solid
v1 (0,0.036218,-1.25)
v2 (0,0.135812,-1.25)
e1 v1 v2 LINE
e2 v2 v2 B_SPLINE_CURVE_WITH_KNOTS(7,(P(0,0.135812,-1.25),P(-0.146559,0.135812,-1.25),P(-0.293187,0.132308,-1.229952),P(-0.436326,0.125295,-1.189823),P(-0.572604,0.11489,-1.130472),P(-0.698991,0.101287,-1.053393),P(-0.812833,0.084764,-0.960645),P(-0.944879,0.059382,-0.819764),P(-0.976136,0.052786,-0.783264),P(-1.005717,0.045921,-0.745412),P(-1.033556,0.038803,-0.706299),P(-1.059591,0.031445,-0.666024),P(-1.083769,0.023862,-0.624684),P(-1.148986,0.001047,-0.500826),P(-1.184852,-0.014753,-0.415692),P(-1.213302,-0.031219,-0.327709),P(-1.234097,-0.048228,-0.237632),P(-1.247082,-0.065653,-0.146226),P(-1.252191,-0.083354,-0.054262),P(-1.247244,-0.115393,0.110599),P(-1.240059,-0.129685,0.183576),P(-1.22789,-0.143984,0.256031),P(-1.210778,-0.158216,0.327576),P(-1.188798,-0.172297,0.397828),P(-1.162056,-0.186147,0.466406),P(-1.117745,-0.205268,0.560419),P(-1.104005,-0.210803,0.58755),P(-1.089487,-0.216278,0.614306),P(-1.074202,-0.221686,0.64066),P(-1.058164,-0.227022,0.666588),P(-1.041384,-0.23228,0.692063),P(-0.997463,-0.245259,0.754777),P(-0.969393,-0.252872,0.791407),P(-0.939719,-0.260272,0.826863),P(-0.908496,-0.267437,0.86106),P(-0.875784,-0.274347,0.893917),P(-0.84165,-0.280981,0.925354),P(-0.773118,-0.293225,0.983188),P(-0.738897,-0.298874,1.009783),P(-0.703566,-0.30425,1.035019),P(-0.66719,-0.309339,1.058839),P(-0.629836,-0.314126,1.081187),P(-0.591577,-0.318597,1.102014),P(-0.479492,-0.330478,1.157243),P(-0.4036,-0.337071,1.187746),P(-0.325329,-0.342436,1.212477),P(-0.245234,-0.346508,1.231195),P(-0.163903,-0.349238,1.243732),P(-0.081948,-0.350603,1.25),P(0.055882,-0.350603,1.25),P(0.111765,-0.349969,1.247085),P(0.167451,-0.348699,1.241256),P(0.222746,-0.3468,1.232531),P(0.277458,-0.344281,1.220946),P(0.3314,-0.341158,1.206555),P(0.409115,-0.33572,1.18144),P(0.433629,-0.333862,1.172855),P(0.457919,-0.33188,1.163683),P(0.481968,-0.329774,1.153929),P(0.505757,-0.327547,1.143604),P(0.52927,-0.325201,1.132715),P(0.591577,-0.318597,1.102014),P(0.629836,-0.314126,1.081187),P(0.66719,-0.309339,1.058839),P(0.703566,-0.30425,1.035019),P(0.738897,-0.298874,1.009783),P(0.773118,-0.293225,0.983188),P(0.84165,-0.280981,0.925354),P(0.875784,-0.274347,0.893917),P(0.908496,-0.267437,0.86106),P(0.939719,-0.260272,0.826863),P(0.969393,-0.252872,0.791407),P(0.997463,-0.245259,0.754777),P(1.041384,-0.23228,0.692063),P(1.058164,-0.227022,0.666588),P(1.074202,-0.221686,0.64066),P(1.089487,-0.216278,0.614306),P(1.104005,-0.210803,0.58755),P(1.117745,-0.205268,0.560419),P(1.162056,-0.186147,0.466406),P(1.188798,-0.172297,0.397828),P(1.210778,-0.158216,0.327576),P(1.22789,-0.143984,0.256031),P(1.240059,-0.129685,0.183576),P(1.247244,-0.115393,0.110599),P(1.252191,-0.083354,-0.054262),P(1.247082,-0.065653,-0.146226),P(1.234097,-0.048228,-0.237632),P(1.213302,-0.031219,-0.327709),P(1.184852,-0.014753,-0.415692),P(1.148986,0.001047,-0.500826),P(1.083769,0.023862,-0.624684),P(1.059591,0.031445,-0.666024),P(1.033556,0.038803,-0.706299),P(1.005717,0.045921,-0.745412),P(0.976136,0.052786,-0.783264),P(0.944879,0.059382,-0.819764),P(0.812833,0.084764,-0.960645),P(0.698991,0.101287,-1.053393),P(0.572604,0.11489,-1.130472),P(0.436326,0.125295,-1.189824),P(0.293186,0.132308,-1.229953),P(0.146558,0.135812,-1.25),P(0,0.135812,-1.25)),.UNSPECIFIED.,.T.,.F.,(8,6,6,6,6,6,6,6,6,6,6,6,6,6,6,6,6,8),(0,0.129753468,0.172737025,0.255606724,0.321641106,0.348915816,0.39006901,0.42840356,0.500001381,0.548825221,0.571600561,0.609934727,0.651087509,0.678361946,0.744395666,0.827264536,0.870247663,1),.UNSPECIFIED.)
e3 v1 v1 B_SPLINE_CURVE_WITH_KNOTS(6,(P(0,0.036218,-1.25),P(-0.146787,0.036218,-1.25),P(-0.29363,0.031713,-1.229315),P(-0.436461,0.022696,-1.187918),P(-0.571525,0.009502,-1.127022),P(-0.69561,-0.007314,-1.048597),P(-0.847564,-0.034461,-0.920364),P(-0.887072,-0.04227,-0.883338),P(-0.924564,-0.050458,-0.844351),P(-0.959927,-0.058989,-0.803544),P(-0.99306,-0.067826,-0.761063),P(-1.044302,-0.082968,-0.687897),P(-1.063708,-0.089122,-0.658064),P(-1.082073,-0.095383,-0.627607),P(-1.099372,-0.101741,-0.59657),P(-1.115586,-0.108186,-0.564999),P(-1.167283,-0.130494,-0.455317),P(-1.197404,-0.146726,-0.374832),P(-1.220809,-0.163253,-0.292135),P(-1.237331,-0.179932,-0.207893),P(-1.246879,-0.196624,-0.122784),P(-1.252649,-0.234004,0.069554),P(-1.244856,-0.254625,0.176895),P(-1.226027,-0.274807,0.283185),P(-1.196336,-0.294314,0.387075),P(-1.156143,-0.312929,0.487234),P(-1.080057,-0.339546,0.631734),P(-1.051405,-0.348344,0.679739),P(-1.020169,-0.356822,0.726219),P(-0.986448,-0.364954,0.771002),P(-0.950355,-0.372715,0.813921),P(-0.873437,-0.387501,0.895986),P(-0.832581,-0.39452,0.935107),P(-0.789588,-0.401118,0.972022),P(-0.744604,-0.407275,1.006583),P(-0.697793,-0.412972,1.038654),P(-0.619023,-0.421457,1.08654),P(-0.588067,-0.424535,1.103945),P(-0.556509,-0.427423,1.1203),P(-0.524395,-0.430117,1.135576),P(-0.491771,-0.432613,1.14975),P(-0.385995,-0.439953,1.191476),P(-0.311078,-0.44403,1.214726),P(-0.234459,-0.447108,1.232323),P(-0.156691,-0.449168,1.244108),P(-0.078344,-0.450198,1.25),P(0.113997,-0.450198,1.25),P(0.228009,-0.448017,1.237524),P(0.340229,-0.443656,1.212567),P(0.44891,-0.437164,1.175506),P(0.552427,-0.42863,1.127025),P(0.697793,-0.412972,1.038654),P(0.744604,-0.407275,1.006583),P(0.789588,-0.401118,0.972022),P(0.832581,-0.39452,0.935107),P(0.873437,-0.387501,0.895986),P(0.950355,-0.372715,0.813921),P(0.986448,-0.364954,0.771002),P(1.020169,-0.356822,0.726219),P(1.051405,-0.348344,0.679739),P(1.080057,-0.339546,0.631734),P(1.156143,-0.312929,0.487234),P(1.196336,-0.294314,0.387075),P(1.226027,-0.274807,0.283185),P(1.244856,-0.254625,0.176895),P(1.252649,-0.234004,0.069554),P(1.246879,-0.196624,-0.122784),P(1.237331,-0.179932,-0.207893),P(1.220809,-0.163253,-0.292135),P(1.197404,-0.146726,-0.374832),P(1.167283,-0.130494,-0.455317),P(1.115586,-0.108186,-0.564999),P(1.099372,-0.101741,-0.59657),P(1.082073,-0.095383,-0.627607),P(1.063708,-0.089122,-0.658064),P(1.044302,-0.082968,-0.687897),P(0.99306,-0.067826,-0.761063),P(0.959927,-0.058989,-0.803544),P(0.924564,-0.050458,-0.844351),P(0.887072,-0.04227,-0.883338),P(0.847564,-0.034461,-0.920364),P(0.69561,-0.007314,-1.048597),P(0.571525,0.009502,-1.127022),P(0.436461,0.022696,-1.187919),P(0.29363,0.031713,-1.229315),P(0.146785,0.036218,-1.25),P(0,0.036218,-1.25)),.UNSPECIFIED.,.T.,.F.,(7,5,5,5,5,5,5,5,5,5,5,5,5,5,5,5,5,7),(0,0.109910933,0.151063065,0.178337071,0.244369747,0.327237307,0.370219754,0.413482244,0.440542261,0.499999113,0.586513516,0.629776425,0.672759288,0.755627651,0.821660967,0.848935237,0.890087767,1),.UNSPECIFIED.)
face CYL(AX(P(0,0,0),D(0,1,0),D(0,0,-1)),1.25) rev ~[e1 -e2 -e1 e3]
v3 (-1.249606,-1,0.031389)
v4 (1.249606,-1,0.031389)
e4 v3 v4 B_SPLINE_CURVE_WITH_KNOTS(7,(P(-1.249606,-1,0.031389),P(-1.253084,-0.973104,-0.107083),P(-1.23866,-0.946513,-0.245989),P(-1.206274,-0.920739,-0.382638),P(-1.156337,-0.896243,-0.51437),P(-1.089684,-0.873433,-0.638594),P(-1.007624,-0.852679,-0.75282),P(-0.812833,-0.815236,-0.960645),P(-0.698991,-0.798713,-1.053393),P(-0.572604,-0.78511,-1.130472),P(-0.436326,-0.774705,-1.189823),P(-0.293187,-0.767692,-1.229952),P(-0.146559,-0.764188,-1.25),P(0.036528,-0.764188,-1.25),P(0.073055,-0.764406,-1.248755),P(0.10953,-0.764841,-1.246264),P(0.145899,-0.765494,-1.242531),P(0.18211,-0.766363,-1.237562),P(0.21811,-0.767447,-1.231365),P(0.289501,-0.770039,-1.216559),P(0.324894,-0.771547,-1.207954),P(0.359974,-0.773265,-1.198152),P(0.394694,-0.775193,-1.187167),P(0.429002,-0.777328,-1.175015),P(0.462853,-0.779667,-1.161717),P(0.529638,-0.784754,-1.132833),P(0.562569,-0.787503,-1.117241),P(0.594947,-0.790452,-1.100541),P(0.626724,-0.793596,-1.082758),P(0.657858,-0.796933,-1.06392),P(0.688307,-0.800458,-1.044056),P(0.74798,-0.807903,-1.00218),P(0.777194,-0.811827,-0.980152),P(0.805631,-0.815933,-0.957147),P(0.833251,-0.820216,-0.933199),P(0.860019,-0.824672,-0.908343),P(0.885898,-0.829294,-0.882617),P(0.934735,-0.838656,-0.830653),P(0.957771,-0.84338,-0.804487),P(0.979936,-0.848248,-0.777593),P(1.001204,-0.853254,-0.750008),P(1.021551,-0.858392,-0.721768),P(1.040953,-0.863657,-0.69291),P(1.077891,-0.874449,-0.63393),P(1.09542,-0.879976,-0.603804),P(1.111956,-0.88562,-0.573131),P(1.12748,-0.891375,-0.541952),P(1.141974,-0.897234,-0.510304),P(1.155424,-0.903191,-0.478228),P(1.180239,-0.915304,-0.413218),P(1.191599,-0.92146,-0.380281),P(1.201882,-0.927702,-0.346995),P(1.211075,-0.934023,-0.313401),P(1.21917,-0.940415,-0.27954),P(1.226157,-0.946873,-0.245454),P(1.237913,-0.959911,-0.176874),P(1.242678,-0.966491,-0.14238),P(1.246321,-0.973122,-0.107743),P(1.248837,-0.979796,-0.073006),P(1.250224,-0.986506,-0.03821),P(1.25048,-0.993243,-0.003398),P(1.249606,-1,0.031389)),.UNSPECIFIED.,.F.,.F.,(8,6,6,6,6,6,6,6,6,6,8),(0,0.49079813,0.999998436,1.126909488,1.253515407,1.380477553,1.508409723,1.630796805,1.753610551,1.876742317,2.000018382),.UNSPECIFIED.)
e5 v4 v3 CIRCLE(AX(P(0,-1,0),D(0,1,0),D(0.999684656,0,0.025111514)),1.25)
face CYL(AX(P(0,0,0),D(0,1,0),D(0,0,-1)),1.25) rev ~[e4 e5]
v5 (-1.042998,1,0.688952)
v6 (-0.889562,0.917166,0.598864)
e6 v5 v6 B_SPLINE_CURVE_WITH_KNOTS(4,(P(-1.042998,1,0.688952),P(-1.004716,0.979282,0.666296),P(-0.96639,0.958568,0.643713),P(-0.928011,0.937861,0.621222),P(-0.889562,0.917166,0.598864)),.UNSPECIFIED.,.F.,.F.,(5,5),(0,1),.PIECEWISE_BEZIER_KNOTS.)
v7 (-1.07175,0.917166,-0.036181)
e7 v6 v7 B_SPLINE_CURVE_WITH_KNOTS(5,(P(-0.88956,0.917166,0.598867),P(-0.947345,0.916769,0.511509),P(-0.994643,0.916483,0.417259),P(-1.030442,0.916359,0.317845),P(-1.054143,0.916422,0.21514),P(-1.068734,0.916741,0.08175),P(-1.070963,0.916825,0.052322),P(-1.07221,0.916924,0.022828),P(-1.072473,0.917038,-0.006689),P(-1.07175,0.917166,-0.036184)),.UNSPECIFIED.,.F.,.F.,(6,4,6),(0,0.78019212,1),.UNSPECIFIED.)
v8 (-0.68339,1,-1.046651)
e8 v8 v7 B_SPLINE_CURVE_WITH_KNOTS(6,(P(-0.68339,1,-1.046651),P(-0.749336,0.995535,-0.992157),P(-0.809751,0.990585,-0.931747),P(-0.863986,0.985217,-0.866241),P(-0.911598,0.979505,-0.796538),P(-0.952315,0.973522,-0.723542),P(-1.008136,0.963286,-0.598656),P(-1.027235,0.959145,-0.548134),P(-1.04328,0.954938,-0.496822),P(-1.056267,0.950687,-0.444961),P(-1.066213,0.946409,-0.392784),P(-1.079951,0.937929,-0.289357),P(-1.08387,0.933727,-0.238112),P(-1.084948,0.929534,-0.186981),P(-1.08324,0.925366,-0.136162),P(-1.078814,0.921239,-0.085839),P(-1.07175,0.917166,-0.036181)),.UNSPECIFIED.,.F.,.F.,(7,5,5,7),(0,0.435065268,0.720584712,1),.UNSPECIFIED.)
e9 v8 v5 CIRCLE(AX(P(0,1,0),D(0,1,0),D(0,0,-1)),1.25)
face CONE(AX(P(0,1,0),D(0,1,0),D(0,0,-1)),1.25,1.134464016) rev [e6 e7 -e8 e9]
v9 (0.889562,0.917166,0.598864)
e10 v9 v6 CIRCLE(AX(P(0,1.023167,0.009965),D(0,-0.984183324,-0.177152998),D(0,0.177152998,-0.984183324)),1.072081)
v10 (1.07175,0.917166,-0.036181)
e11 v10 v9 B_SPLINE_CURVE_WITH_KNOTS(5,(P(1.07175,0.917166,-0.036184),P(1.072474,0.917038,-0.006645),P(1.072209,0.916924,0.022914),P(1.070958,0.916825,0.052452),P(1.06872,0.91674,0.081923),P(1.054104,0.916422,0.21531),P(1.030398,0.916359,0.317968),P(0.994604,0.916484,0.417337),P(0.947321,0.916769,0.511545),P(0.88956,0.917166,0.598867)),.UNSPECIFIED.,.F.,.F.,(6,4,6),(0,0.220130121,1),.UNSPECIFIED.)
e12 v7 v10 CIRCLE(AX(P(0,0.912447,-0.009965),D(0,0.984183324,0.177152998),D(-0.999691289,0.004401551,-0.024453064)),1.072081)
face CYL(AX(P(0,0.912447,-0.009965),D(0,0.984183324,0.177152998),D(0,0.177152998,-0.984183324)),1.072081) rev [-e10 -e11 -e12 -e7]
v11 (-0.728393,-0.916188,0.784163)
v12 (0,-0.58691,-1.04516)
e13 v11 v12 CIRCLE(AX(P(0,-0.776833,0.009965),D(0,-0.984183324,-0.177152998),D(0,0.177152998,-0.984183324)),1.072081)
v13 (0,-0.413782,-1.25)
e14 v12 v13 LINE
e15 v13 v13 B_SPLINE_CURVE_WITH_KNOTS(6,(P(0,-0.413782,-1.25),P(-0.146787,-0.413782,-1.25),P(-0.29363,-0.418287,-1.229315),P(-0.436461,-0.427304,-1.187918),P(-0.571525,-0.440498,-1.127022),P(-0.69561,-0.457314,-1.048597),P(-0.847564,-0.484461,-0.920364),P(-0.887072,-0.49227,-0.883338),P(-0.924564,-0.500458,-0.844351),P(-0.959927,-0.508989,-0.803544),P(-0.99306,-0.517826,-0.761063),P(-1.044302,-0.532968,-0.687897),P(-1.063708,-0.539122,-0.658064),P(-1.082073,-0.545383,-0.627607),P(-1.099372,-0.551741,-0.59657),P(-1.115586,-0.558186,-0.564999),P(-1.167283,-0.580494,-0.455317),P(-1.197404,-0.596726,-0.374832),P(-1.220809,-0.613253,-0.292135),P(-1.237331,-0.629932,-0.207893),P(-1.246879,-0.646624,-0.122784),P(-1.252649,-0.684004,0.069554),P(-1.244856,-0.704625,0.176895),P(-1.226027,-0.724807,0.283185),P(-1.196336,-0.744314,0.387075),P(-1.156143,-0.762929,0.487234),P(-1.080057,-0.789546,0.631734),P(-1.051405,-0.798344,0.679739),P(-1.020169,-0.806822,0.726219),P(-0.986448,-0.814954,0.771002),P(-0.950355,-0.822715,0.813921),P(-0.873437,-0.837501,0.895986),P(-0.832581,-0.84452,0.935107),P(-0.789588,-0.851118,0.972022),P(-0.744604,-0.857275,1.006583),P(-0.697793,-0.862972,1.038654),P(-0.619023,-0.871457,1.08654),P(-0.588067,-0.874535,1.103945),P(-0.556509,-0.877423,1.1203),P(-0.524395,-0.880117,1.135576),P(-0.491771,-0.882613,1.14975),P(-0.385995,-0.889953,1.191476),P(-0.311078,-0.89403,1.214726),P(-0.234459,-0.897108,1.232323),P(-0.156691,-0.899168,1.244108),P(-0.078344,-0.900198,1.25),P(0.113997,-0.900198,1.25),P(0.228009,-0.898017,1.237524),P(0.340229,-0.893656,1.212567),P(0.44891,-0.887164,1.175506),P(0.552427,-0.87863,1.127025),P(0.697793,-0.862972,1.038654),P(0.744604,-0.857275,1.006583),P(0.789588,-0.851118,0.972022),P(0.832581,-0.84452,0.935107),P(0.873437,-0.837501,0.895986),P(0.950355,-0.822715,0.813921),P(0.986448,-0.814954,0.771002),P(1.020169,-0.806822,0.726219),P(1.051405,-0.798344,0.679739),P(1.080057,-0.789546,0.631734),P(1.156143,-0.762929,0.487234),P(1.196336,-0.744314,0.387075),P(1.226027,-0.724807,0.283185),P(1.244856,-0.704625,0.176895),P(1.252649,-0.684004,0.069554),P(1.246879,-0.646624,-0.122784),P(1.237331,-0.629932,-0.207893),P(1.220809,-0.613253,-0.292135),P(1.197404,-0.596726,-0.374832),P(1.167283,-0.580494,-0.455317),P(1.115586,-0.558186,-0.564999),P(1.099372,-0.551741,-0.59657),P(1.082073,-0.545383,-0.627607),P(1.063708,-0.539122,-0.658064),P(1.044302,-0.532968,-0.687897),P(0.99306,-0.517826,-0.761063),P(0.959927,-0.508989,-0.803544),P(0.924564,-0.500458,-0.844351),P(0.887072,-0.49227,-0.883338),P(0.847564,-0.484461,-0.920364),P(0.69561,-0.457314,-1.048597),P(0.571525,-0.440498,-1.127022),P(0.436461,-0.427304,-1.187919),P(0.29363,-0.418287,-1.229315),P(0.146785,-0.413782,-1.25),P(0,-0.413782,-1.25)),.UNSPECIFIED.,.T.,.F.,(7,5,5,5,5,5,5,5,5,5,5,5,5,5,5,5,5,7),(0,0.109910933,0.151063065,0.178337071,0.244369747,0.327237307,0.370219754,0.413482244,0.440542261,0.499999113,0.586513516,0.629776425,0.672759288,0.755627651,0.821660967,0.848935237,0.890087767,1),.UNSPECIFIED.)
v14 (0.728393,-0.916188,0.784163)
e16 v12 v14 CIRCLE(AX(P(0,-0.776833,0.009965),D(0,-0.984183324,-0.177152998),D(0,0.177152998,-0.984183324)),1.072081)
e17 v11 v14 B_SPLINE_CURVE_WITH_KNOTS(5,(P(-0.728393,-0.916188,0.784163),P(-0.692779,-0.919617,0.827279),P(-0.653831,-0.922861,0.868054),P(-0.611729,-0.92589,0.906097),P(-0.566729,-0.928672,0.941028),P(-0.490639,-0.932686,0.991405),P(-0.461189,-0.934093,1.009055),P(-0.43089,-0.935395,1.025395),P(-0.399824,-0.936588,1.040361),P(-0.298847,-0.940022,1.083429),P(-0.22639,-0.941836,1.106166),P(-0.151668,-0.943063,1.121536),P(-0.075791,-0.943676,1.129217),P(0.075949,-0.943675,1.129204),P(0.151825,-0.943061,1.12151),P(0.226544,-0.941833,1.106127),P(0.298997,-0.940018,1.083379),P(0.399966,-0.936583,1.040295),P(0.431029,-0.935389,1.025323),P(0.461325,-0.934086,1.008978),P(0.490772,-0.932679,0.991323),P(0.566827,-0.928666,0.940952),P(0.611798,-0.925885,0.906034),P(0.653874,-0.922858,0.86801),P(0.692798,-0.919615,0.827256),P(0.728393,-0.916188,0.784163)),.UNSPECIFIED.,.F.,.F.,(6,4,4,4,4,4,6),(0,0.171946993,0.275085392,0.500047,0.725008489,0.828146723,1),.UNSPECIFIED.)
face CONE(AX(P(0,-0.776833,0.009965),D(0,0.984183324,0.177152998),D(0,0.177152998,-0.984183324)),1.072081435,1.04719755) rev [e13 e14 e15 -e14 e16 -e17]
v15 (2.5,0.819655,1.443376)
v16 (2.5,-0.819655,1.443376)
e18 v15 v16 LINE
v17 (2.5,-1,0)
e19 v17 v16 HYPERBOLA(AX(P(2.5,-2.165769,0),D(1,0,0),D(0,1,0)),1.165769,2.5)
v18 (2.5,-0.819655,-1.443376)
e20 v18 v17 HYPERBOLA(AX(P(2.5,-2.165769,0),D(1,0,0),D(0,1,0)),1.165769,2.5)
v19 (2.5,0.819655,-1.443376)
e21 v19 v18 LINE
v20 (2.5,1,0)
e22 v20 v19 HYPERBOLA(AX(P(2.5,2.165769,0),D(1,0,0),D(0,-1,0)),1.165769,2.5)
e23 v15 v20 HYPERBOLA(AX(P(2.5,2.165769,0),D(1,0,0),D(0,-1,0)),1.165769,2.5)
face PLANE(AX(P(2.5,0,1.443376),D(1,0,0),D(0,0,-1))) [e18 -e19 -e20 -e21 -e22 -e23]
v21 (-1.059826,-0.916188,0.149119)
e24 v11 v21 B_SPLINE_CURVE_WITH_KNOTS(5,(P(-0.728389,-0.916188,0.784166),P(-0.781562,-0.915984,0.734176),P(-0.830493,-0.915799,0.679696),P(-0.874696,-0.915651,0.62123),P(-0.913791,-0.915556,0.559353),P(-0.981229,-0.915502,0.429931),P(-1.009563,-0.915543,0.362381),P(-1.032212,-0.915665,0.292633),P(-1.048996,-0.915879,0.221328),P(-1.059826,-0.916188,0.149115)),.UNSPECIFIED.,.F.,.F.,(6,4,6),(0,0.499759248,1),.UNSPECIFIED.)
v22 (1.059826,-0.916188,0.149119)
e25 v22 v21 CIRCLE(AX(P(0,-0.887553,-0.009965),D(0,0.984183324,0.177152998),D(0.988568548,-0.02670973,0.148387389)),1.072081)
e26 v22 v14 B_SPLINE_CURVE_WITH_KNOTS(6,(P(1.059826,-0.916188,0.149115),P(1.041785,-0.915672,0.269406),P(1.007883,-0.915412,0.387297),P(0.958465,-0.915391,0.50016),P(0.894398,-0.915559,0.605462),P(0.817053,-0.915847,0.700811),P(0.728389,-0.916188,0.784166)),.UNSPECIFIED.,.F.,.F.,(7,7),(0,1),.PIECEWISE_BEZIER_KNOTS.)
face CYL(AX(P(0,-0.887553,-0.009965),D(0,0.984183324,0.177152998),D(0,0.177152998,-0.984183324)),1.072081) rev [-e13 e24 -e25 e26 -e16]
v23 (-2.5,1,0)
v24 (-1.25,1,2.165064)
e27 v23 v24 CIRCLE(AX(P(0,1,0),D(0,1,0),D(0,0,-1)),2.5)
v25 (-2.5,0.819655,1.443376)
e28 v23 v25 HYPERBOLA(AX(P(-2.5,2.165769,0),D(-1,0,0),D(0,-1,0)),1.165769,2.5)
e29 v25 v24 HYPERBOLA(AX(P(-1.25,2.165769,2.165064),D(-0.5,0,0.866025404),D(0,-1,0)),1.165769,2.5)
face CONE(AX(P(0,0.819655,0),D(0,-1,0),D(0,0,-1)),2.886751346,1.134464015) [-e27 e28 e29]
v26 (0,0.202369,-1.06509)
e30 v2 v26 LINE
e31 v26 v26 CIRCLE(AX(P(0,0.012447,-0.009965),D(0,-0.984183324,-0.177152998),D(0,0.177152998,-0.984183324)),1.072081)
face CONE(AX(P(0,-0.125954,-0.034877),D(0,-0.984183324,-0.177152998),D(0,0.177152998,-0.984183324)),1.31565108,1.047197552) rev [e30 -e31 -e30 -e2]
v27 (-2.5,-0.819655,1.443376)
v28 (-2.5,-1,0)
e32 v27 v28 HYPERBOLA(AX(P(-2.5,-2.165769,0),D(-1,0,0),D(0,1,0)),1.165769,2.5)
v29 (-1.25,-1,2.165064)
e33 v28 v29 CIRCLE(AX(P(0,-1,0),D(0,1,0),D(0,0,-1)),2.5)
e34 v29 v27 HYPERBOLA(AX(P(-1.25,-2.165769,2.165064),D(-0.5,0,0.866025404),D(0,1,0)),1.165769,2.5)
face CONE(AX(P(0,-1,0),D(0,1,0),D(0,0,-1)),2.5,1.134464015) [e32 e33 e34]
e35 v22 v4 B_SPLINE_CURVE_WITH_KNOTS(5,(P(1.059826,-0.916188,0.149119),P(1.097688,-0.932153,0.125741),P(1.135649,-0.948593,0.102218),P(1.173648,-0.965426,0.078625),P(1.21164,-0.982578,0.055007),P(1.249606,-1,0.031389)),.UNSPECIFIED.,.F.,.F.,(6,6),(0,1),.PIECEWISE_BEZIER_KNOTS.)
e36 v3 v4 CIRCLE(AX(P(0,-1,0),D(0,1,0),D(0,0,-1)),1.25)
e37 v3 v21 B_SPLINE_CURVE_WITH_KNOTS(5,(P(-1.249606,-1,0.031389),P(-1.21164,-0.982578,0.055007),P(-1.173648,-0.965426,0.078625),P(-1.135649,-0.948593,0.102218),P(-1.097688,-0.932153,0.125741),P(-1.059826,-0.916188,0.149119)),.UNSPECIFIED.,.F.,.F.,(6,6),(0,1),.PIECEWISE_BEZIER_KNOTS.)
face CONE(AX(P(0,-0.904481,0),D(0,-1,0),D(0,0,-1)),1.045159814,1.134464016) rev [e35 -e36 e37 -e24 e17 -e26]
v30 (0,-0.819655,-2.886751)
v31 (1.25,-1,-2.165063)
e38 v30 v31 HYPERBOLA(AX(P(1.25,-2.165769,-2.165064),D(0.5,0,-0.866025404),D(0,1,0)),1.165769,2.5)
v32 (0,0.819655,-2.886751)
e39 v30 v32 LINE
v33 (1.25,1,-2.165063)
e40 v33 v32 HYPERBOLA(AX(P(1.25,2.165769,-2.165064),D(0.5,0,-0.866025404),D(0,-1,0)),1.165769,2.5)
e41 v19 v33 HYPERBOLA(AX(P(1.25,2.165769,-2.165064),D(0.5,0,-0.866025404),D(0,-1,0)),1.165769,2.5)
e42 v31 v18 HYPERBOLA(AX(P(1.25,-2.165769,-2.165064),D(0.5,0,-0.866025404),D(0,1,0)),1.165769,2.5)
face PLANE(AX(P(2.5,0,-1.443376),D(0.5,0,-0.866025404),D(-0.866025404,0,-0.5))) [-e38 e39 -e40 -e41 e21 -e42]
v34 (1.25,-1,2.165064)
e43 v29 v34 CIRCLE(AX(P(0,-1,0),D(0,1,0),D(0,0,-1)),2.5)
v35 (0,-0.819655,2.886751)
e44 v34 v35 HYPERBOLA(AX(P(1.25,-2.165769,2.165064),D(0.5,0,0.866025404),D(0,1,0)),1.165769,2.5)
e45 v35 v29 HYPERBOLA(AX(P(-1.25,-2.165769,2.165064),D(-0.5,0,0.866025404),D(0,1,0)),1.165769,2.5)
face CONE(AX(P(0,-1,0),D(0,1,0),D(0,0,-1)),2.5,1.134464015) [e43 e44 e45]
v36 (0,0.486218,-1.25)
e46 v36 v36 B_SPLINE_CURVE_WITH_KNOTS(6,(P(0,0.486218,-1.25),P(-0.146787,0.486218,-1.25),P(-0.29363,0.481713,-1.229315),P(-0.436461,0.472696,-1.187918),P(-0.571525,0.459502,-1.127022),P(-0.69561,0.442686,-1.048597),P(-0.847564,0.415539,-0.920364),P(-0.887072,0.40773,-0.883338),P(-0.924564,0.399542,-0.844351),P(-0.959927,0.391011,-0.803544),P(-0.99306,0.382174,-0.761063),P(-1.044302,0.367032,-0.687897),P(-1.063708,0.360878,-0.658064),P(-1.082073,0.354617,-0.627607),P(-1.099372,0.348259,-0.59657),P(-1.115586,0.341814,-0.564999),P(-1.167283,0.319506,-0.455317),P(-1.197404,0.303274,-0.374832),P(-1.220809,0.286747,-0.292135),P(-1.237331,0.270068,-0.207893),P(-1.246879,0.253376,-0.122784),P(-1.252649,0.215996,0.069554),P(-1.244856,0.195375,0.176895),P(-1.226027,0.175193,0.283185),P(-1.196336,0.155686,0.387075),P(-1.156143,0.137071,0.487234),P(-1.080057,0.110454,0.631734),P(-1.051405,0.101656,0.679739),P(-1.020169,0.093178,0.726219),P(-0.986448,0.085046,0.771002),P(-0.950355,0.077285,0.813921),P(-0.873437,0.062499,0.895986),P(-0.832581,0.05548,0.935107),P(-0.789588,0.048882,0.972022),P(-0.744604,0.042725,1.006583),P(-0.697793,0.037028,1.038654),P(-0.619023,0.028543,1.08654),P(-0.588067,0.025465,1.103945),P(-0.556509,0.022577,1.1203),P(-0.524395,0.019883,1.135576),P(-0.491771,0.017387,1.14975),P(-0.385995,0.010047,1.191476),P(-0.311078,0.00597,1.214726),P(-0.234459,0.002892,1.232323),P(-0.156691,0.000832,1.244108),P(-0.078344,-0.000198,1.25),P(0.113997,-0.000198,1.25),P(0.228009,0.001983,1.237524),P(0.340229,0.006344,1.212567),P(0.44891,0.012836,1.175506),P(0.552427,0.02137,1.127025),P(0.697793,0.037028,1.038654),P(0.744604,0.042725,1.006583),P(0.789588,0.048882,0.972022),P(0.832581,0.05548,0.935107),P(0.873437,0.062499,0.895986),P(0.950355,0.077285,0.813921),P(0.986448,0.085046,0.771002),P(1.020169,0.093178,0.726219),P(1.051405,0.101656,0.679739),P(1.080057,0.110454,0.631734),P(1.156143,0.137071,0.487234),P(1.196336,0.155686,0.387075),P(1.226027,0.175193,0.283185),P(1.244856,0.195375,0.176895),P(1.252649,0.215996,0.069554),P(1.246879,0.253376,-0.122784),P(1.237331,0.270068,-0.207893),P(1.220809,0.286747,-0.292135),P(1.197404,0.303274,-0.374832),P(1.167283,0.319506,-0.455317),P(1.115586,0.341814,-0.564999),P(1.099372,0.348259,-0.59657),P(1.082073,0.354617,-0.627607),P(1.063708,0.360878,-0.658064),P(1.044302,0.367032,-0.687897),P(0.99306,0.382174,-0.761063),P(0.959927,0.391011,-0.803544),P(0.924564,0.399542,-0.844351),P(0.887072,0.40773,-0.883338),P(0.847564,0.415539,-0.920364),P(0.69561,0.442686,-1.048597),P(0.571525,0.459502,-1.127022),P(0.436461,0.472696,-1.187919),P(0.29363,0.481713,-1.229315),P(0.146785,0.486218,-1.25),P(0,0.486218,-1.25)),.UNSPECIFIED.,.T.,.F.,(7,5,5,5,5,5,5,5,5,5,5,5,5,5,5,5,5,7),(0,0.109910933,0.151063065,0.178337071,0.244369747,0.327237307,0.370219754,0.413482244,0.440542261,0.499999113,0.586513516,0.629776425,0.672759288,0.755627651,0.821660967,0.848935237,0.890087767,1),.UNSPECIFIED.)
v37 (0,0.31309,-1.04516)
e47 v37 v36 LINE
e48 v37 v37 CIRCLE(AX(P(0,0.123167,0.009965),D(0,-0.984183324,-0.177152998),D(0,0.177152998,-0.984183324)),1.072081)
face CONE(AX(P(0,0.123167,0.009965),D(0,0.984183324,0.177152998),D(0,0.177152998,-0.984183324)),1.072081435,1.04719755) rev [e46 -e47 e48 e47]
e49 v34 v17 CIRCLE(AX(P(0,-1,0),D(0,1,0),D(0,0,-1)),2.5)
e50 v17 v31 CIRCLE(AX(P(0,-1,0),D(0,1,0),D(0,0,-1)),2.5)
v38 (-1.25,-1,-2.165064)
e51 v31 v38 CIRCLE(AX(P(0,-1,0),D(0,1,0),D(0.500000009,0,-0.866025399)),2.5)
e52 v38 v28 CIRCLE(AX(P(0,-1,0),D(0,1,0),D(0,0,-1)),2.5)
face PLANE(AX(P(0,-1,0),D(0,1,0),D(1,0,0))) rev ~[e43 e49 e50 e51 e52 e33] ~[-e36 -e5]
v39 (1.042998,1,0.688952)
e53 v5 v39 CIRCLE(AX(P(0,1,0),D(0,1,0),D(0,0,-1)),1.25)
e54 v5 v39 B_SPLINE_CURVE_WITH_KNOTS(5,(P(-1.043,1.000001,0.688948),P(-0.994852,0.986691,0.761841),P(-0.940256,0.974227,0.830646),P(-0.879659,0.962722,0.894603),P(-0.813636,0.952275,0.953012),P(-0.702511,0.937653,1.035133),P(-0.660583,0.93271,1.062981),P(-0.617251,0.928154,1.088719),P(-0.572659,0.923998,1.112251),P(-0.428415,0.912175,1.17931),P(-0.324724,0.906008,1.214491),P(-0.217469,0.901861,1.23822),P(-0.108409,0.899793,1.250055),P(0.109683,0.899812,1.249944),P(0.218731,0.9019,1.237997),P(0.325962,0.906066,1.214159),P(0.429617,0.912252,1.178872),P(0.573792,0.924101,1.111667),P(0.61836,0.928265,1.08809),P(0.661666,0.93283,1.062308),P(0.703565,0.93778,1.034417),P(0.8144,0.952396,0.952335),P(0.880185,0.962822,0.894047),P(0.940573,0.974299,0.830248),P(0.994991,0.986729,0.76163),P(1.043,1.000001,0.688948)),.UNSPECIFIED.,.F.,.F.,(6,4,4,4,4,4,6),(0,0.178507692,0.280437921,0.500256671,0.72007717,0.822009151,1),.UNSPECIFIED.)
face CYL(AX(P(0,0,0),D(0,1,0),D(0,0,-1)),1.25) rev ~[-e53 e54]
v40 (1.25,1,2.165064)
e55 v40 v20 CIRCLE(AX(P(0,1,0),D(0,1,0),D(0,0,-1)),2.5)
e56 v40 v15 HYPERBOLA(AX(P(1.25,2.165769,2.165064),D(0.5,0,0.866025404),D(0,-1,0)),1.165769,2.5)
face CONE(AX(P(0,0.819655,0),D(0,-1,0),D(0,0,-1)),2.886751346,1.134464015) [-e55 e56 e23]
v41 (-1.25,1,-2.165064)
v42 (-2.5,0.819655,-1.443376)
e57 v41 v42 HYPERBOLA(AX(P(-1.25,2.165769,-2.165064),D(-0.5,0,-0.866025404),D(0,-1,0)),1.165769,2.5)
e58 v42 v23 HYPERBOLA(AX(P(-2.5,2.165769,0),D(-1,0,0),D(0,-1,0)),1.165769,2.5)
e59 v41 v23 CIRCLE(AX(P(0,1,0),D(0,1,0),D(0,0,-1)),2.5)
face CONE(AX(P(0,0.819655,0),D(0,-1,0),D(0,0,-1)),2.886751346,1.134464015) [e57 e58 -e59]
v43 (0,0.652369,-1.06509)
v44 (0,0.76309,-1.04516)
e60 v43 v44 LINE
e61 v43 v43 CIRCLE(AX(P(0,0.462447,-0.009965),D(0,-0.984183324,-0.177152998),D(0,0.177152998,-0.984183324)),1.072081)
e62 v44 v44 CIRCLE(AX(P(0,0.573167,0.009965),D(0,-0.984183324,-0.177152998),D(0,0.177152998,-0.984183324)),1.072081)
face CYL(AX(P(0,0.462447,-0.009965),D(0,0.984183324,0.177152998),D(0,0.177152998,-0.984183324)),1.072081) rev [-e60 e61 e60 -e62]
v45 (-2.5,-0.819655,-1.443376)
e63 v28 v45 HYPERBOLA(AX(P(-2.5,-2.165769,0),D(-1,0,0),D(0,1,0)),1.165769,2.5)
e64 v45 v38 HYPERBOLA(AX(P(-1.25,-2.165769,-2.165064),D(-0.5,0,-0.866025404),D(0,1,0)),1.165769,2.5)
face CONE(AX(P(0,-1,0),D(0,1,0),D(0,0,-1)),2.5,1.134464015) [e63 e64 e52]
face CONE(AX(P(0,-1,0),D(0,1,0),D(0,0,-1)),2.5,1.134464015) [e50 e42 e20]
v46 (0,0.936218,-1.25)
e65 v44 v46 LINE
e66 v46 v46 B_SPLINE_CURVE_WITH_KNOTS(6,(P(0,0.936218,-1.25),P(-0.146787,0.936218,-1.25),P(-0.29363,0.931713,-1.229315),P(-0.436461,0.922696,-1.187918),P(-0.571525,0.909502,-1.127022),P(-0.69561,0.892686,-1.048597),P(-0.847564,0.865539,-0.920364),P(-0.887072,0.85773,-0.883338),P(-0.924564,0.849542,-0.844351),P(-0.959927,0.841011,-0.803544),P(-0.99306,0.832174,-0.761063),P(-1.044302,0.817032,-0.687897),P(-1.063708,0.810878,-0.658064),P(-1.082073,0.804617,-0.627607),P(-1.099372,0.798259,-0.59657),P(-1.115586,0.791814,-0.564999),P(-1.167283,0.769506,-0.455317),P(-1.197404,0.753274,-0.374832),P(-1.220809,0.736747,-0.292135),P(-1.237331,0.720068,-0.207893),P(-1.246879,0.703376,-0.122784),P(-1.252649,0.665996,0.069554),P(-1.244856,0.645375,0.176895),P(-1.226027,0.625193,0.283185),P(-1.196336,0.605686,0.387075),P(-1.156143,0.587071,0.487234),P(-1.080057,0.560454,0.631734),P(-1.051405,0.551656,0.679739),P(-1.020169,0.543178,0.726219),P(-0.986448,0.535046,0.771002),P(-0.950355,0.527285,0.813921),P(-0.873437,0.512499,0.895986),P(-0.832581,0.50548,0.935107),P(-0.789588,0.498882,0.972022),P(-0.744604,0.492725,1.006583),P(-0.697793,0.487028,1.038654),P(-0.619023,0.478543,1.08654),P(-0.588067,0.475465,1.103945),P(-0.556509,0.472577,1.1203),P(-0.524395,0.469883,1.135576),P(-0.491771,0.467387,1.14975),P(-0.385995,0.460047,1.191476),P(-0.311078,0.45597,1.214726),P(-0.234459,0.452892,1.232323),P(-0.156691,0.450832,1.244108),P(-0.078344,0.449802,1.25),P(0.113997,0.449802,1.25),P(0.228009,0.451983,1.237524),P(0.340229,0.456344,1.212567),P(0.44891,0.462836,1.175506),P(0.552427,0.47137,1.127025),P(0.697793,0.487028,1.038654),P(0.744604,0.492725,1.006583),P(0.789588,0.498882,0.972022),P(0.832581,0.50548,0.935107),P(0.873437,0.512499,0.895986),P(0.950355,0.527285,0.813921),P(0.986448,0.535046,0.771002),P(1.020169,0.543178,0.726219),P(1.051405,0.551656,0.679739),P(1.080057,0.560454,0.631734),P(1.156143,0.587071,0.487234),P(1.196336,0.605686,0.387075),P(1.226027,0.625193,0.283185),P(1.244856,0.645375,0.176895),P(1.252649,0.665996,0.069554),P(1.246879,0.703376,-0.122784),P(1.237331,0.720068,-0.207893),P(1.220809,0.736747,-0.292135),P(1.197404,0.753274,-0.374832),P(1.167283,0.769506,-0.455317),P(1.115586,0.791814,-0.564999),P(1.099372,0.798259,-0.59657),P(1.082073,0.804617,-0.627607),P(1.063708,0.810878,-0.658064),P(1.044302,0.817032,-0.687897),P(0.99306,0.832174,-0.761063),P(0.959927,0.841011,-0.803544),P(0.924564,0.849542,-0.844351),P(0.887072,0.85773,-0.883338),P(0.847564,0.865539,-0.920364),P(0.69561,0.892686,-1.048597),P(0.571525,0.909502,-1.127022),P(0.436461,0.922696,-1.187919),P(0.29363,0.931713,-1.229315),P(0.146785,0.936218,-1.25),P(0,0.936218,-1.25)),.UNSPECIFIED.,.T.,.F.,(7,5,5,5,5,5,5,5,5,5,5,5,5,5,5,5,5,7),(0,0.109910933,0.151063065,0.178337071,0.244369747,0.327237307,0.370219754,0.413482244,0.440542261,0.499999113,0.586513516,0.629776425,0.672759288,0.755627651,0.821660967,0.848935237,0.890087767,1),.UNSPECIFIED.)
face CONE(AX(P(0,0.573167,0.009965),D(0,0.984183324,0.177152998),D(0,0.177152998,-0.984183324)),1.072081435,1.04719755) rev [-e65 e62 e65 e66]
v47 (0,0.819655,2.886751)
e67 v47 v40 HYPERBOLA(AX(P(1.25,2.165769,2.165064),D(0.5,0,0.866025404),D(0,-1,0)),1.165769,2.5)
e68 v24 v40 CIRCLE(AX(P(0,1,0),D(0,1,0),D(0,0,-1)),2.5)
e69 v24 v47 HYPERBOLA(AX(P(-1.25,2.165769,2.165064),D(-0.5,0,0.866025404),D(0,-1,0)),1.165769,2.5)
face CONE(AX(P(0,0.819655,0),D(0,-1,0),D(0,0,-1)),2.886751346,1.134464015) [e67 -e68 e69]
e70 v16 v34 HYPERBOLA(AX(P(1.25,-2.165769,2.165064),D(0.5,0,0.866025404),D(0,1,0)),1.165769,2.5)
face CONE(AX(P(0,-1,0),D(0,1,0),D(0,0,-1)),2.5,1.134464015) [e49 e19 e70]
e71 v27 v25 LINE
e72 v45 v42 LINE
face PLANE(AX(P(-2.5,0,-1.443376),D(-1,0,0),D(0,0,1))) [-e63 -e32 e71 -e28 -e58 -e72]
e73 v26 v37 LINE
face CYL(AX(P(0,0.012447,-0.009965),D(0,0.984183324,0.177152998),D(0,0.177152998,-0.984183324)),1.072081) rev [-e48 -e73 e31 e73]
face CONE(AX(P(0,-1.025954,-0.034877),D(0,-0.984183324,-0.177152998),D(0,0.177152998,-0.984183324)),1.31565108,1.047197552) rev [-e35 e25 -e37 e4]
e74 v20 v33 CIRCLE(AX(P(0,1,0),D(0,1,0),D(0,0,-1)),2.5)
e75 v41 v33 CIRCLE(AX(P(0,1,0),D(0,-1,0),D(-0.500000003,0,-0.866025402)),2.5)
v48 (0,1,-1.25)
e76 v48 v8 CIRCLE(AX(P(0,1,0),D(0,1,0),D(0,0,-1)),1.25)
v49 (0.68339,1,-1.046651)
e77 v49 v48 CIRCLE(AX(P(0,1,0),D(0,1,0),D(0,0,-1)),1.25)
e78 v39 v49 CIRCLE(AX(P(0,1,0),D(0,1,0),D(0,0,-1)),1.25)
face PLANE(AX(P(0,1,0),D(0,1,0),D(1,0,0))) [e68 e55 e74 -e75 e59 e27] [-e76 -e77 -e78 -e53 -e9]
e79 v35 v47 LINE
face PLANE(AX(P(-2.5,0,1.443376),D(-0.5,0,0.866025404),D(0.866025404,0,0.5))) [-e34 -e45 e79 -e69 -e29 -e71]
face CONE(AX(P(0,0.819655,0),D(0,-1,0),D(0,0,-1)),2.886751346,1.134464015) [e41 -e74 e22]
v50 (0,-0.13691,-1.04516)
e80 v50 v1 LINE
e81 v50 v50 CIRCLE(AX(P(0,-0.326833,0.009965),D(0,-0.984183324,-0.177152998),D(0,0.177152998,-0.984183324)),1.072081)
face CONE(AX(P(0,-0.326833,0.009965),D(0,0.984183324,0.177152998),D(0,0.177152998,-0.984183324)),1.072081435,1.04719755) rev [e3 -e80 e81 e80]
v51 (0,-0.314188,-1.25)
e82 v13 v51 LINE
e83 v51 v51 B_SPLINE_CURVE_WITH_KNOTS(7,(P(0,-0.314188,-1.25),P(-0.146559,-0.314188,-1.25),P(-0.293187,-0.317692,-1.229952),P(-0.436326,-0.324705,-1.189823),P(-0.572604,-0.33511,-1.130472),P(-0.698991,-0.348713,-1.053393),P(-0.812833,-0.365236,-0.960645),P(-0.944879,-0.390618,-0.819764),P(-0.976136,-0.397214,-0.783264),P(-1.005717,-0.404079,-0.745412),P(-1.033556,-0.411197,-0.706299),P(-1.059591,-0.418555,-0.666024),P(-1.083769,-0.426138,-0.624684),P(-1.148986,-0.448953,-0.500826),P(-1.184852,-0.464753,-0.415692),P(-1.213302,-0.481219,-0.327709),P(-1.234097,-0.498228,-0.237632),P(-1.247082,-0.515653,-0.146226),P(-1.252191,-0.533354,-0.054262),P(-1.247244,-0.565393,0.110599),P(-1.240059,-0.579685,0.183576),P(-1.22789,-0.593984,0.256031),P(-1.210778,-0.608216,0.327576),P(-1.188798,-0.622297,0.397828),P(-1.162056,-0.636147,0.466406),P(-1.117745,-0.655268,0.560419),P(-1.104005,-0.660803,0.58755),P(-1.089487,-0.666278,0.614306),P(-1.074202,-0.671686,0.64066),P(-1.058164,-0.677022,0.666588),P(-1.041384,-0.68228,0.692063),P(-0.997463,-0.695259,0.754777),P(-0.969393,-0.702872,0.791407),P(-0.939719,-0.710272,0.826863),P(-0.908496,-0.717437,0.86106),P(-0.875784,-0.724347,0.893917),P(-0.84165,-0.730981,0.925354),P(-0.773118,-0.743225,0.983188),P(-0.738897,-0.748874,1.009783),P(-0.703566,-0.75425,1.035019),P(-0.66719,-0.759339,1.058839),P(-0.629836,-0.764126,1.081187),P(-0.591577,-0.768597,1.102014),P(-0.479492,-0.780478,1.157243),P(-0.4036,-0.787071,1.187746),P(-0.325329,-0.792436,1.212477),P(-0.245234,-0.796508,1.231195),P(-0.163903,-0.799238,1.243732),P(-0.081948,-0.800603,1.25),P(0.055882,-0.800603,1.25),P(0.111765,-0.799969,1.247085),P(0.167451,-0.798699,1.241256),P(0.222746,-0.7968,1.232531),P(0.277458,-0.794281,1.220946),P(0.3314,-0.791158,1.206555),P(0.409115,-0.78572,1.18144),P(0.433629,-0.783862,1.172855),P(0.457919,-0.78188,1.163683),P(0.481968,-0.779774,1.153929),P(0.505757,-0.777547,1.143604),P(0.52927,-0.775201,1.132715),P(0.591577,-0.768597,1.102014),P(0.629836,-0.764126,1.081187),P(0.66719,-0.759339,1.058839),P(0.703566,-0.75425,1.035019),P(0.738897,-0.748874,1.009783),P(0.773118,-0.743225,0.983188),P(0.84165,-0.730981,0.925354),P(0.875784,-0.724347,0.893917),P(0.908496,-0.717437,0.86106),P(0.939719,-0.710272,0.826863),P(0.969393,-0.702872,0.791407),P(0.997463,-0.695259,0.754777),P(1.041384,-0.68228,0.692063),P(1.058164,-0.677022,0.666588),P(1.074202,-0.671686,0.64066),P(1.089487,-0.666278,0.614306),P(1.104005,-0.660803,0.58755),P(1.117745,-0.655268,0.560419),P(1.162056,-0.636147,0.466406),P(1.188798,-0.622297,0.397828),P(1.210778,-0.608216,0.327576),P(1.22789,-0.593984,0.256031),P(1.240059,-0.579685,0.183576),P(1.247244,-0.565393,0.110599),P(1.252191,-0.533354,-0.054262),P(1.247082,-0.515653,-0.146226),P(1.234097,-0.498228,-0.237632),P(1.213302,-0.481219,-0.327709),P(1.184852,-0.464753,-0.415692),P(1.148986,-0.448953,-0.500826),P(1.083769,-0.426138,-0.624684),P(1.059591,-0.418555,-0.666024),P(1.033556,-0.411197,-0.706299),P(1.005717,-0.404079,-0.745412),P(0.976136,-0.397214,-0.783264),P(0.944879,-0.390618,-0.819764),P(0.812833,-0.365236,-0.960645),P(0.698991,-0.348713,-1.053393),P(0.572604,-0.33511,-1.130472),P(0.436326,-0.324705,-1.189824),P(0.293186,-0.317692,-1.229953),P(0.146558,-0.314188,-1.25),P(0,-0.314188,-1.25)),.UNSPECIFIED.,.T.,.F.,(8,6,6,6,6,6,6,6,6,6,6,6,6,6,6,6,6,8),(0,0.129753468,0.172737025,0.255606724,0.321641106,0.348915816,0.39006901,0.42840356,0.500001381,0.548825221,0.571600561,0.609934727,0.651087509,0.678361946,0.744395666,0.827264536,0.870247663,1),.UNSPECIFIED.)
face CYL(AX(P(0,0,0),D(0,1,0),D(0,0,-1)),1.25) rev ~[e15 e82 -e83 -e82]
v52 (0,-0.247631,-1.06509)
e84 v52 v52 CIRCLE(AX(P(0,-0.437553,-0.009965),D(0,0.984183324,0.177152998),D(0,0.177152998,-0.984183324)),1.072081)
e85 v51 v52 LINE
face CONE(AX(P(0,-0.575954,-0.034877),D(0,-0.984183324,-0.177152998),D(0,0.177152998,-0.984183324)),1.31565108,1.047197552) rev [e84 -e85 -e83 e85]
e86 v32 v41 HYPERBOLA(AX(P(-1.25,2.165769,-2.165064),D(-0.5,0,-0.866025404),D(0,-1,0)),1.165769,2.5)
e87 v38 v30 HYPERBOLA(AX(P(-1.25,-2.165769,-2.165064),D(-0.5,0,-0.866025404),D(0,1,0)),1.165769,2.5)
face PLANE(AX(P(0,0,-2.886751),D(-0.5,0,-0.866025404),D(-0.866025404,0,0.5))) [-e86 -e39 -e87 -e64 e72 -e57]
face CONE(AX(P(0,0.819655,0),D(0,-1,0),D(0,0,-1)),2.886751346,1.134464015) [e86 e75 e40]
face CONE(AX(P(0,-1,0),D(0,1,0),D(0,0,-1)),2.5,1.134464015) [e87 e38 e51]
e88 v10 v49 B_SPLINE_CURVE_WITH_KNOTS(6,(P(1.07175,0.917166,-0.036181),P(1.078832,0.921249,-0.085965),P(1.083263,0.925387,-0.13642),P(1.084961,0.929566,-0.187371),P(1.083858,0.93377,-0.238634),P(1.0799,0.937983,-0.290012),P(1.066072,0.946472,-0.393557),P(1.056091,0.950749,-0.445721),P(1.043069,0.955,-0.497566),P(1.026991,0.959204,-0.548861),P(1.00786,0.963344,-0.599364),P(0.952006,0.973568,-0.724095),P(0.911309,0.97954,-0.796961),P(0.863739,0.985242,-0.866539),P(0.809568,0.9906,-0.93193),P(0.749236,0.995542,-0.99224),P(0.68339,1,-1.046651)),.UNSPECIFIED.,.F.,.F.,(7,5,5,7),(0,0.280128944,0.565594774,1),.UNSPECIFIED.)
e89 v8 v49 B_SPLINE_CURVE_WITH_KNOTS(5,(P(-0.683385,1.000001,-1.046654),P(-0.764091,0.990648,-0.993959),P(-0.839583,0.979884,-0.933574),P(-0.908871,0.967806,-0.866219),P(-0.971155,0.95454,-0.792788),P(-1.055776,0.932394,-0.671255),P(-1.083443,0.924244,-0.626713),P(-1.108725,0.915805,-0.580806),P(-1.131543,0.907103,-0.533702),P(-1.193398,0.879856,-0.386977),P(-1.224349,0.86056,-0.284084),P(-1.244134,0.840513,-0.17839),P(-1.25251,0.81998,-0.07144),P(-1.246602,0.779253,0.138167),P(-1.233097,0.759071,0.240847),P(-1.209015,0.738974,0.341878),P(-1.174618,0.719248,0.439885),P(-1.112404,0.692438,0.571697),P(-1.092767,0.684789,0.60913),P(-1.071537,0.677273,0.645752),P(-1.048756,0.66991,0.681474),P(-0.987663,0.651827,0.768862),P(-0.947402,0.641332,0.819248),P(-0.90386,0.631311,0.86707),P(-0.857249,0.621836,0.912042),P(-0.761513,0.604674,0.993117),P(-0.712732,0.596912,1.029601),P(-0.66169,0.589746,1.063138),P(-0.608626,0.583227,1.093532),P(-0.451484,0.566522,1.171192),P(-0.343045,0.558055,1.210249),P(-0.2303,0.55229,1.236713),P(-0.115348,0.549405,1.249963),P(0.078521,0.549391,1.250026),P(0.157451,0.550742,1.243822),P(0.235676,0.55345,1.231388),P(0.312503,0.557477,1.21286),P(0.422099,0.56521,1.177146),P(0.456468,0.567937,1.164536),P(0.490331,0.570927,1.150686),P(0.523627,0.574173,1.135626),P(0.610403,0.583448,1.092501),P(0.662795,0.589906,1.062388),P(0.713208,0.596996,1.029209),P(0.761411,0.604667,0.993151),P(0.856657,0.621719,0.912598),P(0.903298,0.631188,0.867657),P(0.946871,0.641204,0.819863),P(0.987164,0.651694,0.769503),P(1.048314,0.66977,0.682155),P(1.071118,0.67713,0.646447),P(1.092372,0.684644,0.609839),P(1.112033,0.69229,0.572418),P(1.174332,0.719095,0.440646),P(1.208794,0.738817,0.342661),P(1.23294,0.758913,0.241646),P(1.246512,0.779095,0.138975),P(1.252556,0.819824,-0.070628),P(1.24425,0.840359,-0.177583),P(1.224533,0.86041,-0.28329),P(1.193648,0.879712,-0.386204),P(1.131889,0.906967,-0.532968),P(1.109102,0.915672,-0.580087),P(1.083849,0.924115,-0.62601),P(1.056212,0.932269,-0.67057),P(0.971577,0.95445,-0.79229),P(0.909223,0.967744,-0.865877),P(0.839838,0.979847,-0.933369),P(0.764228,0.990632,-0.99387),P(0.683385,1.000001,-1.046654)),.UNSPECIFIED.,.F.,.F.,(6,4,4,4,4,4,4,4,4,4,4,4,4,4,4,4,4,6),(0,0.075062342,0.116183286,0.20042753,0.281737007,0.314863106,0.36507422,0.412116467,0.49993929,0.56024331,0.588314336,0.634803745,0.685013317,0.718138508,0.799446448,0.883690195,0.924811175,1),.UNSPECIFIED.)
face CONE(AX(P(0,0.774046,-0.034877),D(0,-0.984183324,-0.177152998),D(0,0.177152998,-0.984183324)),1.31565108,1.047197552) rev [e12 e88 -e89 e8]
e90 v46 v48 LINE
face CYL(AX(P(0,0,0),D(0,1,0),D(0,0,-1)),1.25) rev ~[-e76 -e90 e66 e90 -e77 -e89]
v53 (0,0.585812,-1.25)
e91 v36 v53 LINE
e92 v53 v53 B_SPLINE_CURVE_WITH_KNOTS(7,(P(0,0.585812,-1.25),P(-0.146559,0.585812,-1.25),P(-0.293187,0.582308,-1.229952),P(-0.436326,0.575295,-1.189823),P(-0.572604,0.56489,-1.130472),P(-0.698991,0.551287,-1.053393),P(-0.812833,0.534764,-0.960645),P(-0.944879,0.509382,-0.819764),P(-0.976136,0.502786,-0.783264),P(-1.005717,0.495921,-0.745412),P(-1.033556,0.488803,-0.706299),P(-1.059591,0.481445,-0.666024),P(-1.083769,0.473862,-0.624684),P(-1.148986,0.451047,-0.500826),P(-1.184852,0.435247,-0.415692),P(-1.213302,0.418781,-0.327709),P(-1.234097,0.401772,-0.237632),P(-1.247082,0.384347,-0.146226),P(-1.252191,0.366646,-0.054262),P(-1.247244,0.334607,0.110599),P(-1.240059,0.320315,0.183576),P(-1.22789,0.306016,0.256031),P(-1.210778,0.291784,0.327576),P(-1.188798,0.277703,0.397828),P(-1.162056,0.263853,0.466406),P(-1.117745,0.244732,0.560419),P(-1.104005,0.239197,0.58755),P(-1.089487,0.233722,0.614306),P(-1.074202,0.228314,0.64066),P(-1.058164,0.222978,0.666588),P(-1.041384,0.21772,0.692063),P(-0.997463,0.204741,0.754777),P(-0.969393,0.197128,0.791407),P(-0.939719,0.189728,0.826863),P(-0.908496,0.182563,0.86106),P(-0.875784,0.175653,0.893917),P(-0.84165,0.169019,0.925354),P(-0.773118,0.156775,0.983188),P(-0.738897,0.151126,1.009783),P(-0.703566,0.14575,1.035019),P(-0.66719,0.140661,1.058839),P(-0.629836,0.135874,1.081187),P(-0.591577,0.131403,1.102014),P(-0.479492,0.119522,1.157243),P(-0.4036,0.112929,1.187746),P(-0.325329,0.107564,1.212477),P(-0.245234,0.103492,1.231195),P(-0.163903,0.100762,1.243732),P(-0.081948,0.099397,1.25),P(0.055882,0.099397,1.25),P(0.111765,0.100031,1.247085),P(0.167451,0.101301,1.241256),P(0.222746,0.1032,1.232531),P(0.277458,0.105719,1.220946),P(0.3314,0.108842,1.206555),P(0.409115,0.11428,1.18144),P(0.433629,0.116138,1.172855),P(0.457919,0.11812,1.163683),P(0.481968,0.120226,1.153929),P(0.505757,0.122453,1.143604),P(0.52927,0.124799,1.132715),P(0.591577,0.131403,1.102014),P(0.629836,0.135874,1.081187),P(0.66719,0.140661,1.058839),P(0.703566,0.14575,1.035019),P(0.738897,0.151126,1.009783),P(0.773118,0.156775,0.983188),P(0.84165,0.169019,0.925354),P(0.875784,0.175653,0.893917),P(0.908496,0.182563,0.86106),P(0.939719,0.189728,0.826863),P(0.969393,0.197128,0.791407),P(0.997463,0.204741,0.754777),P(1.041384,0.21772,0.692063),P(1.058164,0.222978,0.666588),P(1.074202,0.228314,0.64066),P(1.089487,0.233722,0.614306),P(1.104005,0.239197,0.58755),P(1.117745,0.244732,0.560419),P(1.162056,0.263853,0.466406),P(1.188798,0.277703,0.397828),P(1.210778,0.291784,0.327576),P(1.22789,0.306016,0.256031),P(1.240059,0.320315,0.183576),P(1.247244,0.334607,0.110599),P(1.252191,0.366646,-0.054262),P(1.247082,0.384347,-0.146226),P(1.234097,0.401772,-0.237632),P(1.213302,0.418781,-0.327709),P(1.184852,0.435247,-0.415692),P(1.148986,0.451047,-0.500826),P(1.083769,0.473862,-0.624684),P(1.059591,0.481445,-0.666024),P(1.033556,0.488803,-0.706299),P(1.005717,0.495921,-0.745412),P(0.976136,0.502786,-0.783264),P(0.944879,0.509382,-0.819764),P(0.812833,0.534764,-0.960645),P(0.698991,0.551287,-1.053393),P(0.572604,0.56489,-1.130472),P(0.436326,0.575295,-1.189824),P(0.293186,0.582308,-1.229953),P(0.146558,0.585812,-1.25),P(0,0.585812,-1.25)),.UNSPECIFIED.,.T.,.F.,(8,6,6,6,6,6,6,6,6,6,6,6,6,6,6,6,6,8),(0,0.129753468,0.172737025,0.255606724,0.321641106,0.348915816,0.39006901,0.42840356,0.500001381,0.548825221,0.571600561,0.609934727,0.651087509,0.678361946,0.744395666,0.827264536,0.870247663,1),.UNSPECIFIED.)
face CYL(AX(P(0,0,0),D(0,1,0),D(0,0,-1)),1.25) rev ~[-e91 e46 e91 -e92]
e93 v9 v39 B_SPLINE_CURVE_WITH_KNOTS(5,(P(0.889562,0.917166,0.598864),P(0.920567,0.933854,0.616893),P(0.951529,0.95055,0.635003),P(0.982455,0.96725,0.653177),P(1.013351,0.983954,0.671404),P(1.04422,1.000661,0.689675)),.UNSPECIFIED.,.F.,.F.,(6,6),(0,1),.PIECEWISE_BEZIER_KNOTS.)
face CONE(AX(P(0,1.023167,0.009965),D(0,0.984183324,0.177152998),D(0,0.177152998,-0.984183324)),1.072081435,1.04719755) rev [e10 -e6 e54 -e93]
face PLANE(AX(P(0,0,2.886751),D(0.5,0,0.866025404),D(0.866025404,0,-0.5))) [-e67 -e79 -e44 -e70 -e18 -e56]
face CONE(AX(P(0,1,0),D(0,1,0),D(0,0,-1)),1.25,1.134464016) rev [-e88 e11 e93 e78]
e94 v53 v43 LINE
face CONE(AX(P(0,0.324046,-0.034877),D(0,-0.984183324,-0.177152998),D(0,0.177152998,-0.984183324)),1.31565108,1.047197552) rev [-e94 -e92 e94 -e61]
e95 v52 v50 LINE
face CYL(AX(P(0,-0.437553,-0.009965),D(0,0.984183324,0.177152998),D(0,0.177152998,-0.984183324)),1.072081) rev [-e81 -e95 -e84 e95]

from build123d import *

# Parameters (mm, degrees)
EXTRUDE1_DEPTH      = 1
SKETCH2_W           = 1.25
SKETCH2_H           = 2
LPATTERN1_COUNT     = 4
LPATTERN1_PITCH     = 0.45
LPATTERN1_COL_COUNT = 2
LPATTERN1_COL_PITCH = 0.45


with BuildPart() as part:
    # Sketch1 → Extrude1 (new body, symmetric)
    with BuildSketch(Plane(origin=(0, 0, 0), x_dir=(1, 0, 0), z_dir=(0, 1, 0))):
        Polygon((0, 2.886751346), (-2.5, 1.443375673), (-2.5, -1.443375673), (0, -2.886751346), (2.5, -1.443375673), (2.5, 1.443375673), align=None)
    extrude(amount=EXTRUDE1_DEPTH, both=True)

    # Sketch4 → Cut-Revolve2 (revolve, cut)
    with BuildSketch(Plane(origin=(0, 0, 0), x_dir=(0, 0, -1), z_dir=(1, 0, 0))):
        Polygon((0, 1), (1.25, 1), (1.045159814, 0.904481453), (1.045159814, -0.904481453), (1.25, -1), (0, -1), align=None)
    revolve(axis=Axis((0, 1, 0), (0, 1, 0)), mode=Mode.SUBTRACT)


with BuildPart() as body_2:
    # Sketch2 → Revolve1 (revolve)
    with BuildSketch(Plane(origin=(0, 0, 0), x_dir=(0, 0, -1), z_dir=(1, 0, 0))):
        with Locations((0.625, 0)):
            Rectangle(SKETCH2_W, SKETCH2_H)
    revolve(axis=Axis((0, -2.25, 0), (0, 1, 0)))

    # Sketch3 → Cut-Revolve1 (revolve, cut)
    with BuildSketch(Plane(origin=(0, 0, 0), x_dir=(0, 0, -1), z_dir=(1, 0, 0))):
        Polygon((1.259964856, 0.944639688), (1.329718849, 0.557117504), (1.065089526, 0.652369191), (1.045159814, 0.763089815), align=None)
    cut_revolve1 = revolve(axis=Axis((0, 1, 0.086794729), (0, -0.984183324, -0.177152998)), mode=Mode.SUBTRACT)

    # LPattern1: Cut-Revolve1 ×4
    with Locations(*[(0, -i * LPATTERN1_PITCH, 0) for i in range(1, LPATTERN1_COUNT)]):
        add(cut_revolve1, mode=Mode.SUBTRACT)

    # LPattern1 col: Cut-Revolve1 ×2
    with Locations(*[(0, i * LPATTERN1_COL_PITCH, 0) for i in range(1, LPATTERN1_COL_COUNT)]):
        add(cut_revolve1, mode=Mode.SUBTRACT)


with BuildPart() as part_1:
    add(part.part)

    # Combine1: cut body 2
    add(body_2.part, mode=Mode.SUBTRACT)

    # Sketch5 → Cut-Revolve3 (revolve, cut)
    with BuildSketch(Plane(origin=(0, 0, 0), x_dir=(0, 0, -1), z_dir=(1, 0, 0))):
        Polygon((0, -1), (2.5, -1), (2.886751346, -0.819654886), (2.886751346, 0.819654886), (2.5, 1), (0, 1), (0, 2.27), (4.156751346, 2.27), (4.156751346, -2.27), (0, -2.27), align=None)
    revolve(axis=Axis((0, -1, 0), (0, 1, 0)), mode=Mode.SUBTRACT)


solid = part_1.part
